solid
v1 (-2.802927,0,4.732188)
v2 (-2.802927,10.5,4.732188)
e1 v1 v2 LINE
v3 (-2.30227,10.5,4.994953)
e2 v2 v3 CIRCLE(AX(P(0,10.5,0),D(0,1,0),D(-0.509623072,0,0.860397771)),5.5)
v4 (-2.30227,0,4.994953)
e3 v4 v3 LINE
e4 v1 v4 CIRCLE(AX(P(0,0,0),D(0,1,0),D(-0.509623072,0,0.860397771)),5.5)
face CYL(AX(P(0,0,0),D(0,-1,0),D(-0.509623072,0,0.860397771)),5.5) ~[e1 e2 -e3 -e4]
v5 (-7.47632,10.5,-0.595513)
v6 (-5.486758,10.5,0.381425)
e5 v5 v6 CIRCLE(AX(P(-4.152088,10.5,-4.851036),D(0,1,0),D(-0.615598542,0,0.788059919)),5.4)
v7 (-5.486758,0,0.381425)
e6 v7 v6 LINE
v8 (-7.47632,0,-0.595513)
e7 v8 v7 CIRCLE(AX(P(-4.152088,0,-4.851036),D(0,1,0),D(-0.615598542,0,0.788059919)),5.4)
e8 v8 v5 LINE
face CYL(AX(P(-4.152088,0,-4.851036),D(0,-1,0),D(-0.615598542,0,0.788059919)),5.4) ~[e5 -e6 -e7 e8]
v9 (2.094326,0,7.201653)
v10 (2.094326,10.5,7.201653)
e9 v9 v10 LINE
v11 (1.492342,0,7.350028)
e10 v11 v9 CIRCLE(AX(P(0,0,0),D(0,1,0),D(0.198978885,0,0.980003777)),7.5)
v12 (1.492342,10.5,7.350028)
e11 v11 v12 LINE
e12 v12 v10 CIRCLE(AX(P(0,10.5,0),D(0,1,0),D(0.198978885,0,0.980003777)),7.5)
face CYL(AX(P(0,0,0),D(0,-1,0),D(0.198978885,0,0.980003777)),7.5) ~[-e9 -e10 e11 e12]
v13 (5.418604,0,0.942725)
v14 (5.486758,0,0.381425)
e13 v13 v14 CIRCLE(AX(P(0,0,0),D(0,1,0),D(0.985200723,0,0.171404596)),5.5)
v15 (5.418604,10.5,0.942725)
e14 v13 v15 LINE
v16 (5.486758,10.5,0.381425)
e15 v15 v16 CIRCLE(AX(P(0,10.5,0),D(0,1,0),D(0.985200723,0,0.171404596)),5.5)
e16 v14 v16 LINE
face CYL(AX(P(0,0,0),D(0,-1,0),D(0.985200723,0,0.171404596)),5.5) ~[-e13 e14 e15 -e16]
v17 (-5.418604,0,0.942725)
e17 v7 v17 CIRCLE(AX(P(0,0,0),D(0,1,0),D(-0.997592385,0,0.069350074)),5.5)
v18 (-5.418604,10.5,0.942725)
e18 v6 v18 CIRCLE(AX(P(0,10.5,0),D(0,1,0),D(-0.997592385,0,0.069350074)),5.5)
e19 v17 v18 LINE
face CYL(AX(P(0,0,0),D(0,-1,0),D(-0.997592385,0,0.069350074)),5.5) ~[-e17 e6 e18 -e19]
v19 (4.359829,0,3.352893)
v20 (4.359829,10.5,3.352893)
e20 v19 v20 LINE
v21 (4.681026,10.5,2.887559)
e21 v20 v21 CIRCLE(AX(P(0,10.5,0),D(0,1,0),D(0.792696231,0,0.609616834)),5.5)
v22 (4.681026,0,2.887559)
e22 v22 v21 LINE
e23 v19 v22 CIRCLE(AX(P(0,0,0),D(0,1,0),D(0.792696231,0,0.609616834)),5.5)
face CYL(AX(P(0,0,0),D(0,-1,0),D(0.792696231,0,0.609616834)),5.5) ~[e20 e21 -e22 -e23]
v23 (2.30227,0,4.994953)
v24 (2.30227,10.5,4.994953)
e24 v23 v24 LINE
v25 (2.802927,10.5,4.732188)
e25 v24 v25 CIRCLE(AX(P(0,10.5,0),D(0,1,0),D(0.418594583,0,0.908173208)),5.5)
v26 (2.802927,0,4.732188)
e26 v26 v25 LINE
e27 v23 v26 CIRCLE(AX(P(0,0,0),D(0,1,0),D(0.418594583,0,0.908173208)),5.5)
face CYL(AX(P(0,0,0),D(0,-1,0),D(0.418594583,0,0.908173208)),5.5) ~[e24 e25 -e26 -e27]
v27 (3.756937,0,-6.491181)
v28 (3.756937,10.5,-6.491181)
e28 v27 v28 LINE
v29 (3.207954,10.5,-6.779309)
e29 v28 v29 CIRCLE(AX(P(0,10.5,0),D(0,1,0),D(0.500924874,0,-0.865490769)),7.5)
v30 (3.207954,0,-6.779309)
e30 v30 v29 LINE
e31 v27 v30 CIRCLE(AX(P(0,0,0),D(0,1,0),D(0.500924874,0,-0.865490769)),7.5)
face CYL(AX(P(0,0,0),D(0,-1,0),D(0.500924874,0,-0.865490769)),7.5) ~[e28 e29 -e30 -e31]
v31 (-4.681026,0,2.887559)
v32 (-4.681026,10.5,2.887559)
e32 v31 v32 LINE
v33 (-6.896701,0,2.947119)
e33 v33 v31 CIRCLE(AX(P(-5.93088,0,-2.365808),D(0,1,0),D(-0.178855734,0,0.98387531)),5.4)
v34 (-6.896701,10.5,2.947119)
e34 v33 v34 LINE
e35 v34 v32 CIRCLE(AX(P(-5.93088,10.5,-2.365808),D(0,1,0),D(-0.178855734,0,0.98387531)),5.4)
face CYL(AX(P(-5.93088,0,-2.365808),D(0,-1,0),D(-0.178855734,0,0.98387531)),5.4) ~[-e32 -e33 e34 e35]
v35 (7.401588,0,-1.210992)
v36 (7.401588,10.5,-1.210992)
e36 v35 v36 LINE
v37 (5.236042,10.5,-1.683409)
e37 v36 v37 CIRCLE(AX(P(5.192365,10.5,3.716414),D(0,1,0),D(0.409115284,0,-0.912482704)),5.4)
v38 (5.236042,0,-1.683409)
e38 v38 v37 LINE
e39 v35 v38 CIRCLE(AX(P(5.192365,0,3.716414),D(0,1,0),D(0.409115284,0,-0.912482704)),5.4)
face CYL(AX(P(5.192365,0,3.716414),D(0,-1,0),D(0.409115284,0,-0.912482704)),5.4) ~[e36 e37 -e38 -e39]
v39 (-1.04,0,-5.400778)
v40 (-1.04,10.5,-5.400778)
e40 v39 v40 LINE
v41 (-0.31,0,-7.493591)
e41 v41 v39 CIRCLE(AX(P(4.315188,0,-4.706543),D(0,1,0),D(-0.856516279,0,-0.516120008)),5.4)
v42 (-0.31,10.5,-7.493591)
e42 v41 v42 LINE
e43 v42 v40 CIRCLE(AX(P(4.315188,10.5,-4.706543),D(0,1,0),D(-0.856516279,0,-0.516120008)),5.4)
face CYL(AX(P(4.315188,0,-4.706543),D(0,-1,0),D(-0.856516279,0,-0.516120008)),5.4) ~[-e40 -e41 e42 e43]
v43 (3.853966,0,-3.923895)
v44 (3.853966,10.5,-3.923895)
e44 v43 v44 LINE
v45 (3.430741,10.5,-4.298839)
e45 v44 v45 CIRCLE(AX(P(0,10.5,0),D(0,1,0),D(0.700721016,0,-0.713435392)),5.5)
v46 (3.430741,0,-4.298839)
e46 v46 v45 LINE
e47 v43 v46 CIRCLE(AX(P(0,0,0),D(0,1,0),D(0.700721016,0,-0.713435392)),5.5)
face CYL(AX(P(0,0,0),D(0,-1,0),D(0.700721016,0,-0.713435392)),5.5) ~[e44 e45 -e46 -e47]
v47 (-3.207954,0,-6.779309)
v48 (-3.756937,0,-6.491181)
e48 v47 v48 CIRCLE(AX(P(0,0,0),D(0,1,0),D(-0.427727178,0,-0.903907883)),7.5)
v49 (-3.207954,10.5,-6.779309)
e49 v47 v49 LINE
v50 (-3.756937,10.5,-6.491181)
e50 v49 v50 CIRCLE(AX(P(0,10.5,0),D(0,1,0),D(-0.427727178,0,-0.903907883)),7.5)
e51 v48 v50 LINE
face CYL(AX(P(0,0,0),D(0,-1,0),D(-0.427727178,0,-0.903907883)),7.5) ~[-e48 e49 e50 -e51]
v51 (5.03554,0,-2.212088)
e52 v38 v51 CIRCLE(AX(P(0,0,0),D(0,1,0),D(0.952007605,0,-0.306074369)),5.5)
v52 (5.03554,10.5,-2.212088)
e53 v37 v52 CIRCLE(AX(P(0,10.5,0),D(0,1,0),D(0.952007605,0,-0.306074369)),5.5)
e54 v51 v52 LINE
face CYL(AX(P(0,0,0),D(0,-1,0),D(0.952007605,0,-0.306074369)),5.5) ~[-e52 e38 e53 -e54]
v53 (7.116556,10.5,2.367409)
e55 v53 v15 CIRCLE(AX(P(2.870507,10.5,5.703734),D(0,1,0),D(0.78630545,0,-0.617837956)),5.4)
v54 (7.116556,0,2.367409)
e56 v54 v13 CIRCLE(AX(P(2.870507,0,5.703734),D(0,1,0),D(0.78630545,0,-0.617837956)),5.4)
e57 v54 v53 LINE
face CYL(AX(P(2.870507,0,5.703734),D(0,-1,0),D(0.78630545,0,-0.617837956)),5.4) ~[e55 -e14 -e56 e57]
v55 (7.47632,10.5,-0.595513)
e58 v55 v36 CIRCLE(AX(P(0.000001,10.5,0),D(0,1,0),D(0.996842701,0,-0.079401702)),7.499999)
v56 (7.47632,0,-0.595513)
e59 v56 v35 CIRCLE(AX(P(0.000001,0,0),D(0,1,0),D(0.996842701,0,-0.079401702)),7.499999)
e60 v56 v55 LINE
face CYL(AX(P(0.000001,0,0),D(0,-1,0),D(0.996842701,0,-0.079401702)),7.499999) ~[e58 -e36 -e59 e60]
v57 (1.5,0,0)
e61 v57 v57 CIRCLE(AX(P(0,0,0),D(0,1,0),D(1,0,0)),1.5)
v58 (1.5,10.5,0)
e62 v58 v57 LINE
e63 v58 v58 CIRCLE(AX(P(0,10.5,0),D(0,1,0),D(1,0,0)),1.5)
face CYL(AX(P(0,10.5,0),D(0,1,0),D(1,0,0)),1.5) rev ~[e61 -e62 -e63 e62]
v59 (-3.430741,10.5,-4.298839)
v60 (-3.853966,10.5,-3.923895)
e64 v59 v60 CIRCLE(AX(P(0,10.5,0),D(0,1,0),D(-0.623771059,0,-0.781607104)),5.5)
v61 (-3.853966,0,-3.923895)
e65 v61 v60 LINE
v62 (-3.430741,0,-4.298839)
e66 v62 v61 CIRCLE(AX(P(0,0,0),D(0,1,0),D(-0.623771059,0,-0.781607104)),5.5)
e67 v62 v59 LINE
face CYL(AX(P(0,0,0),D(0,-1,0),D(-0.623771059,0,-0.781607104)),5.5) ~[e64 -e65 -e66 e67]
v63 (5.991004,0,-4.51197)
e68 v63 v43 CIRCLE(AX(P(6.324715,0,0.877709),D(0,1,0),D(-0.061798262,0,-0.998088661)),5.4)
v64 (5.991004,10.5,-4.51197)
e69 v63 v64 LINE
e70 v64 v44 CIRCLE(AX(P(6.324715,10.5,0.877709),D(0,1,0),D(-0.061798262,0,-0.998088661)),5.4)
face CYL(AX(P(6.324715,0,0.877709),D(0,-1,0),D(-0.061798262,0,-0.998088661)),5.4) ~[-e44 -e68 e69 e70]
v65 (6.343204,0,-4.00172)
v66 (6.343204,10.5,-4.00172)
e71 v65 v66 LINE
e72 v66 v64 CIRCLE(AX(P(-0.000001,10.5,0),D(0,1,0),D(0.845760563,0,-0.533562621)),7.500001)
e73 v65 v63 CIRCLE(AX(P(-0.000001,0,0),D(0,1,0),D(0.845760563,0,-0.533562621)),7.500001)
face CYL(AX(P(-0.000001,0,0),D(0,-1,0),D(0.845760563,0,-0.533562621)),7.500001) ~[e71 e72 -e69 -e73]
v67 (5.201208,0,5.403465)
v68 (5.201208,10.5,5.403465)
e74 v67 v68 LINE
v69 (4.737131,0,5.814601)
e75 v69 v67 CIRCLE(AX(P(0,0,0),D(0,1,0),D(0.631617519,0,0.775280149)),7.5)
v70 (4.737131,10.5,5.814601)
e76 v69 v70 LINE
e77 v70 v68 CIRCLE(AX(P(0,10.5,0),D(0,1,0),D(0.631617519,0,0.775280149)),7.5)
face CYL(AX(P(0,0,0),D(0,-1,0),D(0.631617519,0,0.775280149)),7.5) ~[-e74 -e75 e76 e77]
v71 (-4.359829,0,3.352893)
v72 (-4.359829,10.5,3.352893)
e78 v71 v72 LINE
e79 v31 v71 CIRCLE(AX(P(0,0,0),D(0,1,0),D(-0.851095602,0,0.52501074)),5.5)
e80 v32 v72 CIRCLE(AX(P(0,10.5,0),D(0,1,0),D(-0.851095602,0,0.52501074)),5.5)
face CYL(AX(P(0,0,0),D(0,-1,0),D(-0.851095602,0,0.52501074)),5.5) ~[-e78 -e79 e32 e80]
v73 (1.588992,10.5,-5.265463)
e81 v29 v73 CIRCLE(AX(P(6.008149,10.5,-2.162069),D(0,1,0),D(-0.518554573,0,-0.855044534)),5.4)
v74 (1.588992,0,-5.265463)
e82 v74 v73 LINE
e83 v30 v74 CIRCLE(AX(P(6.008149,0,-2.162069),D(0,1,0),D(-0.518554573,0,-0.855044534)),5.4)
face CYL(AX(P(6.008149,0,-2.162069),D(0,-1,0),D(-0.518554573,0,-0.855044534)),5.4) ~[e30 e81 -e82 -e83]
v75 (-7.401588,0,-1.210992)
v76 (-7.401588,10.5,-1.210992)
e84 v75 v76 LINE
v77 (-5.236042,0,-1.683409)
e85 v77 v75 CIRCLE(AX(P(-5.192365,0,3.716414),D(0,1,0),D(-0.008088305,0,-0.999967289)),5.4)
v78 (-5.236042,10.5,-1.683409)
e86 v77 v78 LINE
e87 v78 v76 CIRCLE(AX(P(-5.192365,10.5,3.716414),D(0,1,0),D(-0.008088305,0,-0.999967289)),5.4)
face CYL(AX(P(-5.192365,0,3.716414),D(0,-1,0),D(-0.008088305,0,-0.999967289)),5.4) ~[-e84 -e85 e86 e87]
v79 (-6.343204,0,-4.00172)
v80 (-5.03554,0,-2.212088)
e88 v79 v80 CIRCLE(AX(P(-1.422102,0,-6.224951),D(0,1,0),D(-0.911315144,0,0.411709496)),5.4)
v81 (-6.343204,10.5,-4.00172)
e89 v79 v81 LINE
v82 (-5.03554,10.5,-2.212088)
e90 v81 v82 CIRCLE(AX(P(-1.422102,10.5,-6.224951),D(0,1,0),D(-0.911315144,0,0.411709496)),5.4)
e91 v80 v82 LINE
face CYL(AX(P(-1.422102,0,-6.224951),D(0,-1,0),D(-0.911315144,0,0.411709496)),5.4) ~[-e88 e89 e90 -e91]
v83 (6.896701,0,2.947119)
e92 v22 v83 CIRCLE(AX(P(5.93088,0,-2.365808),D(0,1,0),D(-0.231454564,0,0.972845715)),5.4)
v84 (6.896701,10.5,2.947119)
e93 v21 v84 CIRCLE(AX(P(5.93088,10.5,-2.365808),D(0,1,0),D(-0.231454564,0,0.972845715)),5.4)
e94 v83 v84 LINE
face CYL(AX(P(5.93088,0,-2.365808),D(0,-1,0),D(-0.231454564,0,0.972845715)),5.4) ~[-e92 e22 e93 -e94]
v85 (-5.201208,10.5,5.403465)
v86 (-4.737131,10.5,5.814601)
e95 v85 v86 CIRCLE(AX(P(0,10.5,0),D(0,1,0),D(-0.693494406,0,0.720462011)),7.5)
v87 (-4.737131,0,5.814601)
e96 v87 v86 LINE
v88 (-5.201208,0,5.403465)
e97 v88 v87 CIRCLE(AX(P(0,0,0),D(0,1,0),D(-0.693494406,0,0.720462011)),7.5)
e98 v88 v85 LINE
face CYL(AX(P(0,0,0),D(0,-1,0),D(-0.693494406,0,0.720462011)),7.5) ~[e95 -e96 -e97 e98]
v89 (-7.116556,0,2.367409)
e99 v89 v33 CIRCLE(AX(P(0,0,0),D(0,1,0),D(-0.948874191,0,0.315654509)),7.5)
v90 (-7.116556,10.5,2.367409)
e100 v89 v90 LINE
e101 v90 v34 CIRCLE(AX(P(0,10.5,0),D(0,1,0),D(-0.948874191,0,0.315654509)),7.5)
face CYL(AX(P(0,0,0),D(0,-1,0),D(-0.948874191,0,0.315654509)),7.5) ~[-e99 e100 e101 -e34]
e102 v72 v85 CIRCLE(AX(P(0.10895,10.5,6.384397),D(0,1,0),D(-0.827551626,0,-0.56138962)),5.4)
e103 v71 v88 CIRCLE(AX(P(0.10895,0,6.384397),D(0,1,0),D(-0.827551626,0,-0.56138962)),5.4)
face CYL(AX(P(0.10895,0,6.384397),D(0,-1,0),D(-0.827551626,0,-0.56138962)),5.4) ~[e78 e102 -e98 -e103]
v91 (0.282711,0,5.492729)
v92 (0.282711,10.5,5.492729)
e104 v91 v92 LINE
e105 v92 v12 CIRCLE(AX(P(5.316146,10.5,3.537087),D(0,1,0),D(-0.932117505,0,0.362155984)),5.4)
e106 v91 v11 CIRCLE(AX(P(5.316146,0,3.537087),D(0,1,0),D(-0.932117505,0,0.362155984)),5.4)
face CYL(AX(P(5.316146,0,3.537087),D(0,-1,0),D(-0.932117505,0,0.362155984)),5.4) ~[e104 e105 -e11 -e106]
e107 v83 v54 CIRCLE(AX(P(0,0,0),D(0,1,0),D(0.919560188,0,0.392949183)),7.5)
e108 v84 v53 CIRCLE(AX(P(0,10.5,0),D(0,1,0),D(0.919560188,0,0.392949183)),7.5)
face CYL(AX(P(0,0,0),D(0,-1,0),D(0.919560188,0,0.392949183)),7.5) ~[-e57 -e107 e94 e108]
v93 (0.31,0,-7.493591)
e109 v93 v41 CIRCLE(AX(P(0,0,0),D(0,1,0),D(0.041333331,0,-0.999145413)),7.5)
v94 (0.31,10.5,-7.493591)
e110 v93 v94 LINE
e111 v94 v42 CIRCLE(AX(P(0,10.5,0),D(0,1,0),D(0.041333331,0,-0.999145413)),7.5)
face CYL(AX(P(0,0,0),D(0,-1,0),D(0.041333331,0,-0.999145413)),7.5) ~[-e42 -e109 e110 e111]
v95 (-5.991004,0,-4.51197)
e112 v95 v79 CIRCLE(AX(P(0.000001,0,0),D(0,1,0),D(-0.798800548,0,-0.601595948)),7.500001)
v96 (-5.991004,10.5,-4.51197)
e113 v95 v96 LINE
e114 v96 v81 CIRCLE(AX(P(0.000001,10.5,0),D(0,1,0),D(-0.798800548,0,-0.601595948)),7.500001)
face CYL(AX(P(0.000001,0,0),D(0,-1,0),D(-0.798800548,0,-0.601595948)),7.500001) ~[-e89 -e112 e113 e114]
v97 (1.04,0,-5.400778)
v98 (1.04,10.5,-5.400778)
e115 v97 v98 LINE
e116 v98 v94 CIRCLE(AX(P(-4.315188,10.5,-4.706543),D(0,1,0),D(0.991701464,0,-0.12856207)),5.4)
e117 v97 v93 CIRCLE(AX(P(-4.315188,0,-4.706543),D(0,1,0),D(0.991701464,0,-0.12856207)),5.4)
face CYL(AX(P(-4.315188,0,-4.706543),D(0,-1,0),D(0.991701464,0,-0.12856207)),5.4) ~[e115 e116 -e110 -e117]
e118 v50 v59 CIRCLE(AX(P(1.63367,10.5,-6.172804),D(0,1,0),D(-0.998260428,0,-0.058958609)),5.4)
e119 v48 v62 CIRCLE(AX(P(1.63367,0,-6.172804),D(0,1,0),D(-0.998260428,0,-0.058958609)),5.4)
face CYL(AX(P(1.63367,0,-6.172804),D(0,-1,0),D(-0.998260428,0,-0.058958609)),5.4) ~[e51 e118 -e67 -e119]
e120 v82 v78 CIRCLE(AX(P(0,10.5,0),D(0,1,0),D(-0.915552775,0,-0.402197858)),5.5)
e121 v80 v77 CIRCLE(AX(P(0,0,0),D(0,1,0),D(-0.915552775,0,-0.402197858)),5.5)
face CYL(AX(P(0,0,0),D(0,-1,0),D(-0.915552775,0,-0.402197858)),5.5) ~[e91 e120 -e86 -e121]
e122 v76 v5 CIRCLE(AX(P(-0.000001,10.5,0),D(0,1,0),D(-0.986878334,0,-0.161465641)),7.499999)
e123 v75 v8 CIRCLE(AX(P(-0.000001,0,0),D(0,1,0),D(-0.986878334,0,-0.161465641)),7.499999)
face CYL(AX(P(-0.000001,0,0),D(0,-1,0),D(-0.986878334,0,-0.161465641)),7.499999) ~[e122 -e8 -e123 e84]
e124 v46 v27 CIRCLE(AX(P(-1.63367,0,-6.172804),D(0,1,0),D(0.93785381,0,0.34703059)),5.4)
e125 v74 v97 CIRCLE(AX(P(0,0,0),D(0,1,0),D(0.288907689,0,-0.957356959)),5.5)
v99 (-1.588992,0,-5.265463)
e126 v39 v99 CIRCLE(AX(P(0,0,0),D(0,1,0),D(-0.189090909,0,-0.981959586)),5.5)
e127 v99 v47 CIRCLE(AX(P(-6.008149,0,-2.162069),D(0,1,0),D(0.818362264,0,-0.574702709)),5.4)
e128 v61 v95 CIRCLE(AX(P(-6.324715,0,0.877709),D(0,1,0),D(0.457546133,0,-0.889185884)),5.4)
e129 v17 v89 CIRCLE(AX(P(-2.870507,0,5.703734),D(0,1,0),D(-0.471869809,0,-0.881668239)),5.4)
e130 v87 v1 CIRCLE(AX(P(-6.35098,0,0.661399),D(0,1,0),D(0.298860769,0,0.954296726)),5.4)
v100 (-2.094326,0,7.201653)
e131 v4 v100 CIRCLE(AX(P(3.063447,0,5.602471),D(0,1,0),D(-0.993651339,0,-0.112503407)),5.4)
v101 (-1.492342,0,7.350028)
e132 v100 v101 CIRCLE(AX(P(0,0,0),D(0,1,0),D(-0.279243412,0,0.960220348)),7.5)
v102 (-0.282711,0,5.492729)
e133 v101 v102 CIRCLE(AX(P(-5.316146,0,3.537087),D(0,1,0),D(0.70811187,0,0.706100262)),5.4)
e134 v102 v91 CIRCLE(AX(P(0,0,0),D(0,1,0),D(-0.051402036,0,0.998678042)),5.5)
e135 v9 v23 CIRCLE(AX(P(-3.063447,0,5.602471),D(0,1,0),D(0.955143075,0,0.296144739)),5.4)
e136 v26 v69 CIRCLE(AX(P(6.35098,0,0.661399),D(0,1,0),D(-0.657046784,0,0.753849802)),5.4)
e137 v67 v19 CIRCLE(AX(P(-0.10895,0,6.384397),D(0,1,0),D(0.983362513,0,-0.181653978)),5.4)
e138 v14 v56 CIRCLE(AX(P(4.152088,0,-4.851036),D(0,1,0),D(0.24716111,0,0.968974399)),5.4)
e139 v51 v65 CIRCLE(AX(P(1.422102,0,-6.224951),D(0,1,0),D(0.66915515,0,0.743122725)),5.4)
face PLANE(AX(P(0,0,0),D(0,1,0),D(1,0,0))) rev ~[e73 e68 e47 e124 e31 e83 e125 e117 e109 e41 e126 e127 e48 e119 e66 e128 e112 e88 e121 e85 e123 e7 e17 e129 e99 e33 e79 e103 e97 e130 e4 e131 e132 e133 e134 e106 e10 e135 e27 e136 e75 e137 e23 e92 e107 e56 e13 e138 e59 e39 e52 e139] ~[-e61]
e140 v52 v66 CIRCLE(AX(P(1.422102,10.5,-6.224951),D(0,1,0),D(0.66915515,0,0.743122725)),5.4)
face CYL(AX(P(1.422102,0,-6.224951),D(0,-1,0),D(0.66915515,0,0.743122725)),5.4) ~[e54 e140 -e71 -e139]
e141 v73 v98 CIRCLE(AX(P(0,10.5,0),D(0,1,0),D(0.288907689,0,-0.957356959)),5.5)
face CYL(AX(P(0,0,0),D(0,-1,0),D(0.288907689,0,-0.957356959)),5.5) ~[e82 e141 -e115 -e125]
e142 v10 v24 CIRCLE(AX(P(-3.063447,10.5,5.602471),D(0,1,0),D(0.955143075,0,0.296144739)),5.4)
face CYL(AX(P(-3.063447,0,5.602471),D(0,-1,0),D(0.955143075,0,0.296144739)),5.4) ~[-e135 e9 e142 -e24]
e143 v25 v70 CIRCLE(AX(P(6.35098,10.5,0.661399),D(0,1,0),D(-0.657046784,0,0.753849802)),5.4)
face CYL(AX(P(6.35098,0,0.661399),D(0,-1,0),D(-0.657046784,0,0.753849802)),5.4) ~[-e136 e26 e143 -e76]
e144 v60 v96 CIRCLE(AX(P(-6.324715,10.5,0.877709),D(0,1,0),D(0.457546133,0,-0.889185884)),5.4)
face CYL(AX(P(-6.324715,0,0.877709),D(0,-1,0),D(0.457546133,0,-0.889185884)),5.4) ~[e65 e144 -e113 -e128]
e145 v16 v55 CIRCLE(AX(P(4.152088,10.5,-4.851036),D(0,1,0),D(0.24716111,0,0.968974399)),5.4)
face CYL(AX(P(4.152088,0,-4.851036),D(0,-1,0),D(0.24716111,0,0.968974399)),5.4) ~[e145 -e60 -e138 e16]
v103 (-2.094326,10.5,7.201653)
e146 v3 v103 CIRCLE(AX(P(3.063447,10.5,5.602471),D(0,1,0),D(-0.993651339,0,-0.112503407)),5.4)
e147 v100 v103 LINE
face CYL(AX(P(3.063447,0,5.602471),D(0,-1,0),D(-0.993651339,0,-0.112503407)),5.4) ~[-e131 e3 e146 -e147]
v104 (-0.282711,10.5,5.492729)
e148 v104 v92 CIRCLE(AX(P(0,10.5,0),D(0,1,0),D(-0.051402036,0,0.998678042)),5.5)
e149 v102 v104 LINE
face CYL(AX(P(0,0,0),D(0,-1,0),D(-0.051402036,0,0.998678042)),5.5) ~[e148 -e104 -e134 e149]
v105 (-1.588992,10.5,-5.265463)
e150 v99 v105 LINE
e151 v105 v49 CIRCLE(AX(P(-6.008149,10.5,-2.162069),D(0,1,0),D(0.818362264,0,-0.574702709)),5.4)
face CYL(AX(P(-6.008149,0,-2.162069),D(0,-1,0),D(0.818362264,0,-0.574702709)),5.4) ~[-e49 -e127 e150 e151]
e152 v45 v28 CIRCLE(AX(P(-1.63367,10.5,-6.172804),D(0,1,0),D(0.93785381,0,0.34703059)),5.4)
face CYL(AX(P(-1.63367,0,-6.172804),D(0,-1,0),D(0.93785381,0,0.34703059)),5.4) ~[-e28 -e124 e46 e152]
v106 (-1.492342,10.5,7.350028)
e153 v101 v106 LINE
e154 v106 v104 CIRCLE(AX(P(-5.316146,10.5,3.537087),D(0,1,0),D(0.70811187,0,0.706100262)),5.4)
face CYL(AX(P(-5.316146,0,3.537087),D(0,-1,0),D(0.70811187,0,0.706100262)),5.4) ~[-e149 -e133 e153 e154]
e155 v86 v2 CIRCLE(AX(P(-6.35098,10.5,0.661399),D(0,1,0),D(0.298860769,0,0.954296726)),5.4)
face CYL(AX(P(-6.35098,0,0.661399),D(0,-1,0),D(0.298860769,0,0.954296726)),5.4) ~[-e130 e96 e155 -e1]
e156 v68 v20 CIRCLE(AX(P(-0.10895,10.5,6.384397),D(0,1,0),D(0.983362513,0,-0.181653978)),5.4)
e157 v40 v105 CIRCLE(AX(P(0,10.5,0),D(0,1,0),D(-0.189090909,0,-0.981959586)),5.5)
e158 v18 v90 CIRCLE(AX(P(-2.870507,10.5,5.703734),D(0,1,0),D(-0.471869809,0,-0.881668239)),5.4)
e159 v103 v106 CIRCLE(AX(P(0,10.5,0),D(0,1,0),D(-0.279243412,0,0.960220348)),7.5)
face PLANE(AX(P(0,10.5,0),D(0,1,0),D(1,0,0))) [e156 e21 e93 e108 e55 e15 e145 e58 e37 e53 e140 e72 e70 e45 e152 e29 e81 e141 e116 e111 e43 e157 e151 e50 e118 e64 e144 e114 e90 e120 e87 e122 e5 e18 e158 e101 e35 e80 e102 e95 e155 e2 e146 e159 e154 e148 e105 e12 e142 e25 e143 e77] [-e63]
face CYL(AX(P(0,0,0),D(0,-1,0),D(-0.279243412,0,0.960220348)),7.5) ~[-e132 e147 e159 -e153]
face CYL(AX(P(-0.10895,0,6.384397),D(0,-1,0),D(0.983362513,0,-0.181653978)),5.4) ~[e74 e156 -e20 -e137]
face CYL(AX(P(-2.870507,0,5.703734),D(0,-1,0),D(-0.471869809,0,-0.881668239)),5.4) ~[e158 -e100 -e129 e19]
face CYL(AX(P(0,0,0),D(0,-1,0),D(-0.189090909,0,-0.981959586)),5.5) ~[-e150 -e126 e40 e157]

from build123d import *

# Parameters (mm, degrees)
BOSS_EXTRUDE1_DEPTH = 10.5
SKETCH2_R           = 1.5
CUT_EXTRUDE1_DEPTH  = 10.5


with BuildPart() as part:
    # Sketch1 → Boss-Extrude1 (new body)
    with BuildSketch(Plane(origin=(0, 0, 0), x_dir=(1, 0, 0), z_dir=(0, 1, 0))):
        with BuildLine():
            ThreePointArc((1.04, 5.400777722), (0.783531714, 6.485041414), (0.31, 7.493590595))
            ThreePointArc((0.31, 7.493590595), (0, 7.5), (-0.31, 7.493590595))
            ThreePointArc((-0.31, 7.493590595), (-0.783531714, 6.485041414), (-1.04, 5.400777722))
            ThreePointArc((-1.04, 5.400777722), (-1.316236154, 5.340179996), (-1.588992288, 5.265463276))
            ThreePointArc((-1.588992288, 5.265463276), (-2.319966139, 6.10634434), (-3.207953823, 6.779309129))
            ThreePointArc((-3.207953823, 6.779309129), (-3.48542379, 6.640920192), (-3.756936559, 6.491180762))
            ThreePointArc((-3.756936559, 6.491180762), (-3.707531894, 5.378093653), (-3.430740821, 4.298839078))
            ThreePointArc((-3.430740821, 4.298839078), (-3.64717462, 4.116809115), (-3.853965592, 3.923894649))
            ThreePointArc((-3.853965592, 3.923894649), (-4.891987708, 4.328757368), (-5.991004086, 4.511969642))
            ThreePointArc((-5.991004086, 4.511969642), (-6.172378994, 4.2604856), (-6.343204228, 4.001719645))
            ThreePointArc((-6.343204228, 4.001719645), (-5.782181198, 3.039089449), (-5.035540265, 2.212088208))
            ThreePointArc((-5.035540265, 2.212088208), (-5.142589335, 1.950326879), (-5.236041824, 1.683409046))
            ThreePointArc((-5.236041824, 1.683409046), (-6.343313848, 1.559504249), (-7.401587511, 1.210992284))
            ThreePointArc((-7.401587511, 1.210992284), (-7.445316556, 0.904025102), (-7.476320253, 0.595512782))
            ThreePointArc((-7.476320253, 0.595512782), (-6.532202472, 0.003866477), (-5.486758119, -0.381425412))
            ThreePointArc((-5.486758119, -0.381425412), (-5.459898808, -0.662951741), (-5.418603976, -0.942725282))
            ThreePointArc((-5.418603976, -0.942725282), (-6.341463231, -1.567012498), (-7.116556437, -2.367408811))
            ThreePointArc((-7.116556437, -2.367408811), (-7.01262182, -2.659536653), (-6.896701407, -2.947118882))
            ThreePointArc((-6.896701407, -2.947118882), (-5.785774881, -3.032242258), (-4.68102581, -2.887559066))
            ThreePointArc((-4.68102581, -2.887559066), (-4.526411262, -3.124356107), (-4.359829258, -3.352892609))
            ThreePointArc((-4.359829258, -3.352892609), (-4.886859811, -4.334545567), (-5.201208047, -5.403465078))
            ThreePointArc((-5.201208047, -5.403465078), (-4.973419937, -5.613830611), (-4.737131383, -5.814601127))
            ThreePointArc((-4.737131383, -5.814601127), (-3.713895991, -5.373700834), (-2.802926901, -4.732187738))
            ThreePointArc((-2.802926901, -4.732187738), (-2.555977446, -4.870008141), (-2.302270198, -4.994952646))
            ThreePointArc((-2.302270198, -4.994952646), (-2.312735701, -6.109086484), (-2.094325574, -7.201652615))
            ThreePointArc((-2.094325574, -7.201652615), (-1.794867482, -7.282063631), (-1.492341648, -7.350028327))
            ThreePointArc((-1.492341648, -7.350028327), (-0.791208287, -6.484109309), (-0.282711218, -5.492729228))
            ThreePointArc((-0.282711218, -5.492729228), (0, -5.5), (0.282711218, -5.492729228))
            ThreePointArc((0.282711218, -5.492729228), (0.791208287, -6.484109309), (1.492341648, -7.350028327))
            ThreePointArc((1.492341648, -7.350028327), (1.794867482, -7.282063631), (2.094325574, -7.201652615))
            ThreePointArc((2.094325574, -7.201652615), (2.312735701, -6.109086484), (2.302270198, -4.994952646))
            ThreePointArc((2.302270198, -4.994952646), (2.555977446, -4.870008141), (2.802926901, -4.732187738))
            ThreePointArc((2.802926901, -4.732187738), (3.713895991, -5.373700834), (4.737131383, -5.814601127))
            ThreePointArc((4.737131383, -5.814601127), (4.973419937, -5.613830611), (5.201208047, -5.403465078))
            ThreePointArc((5.201208047, -5.403465078), (4.886859811, -4.334545567), (4.359829258, -3.352892609))
            ThreePointArc((4.359829258, -3.352892609), (4.526411262, -3.124356107), (4.68102581, -2.887559066))
            ThreePointArc((4.68102581, -2.887559066), (5.785774881, -3.032242258), (6.896701407, -2.947118882))
            ThreePointArc((6.896701407, -2.947118882), (7.01262182, -2.659536653), (7.116556437, -2.367408811))
            ThreePointArc((7.116556437, -2.367408811), (6.341463231, -1.567012498), (5.418603976, -0.942725282))
            ThreePointArc((5.418603976, -0.942725282), (5.459898808, -0.662951741), (5.486758119, -0.381425412))
            ThreePointArc((5.486758119, -0.381425412), (6.532202472, 0.003866477), (7.476320253, 0.595512782))
            ThreePointArc((7.476320253, 0.595512782), (7.445316556, 0.904025102), (7.401587511, 1.210992284))
            ThreePointArc((7.401587511, 1.210992284), (6.343313848, 1.559504249), (5.236041824, 1.683409046))
            ThreePointArc((5.236041824, 1.683409046), (5.142589335, 1.950326879), (5.035540265, 2.212088208))
            ThreePointArc((5.035540265, 2.212088208), (5.782181198, 3.039089449), (6.343204228, 4.001719645))
            ThreePointArc((6.343204228, 4.001719645), (6.172378994, 4.2604856), (5.991004086, 4.511969642))
            ThreePointArc((5.991004086, 4.511969642), (4.891987708, 4.328757368), (3.853965592, 3.923894649))
            ThreePointArc((3.853965592, 3.923894649), (3.64717462, 4.116809115), (3.430740821, 4.298839078))
            ThreePointArc((3.430740821, 4.298839078), (3.707531894, 5.378093653), (3.756936559, 6.491180762))
            ThreePointArc((3.756936559, 6.491180762), (3.48542379, 6.640920192), (3.207953823, 6.779309129))
            ThreePointArc((3.207953823, 6.779309129), (2.319966139, 6.10634434), (1.588992288, 5.265463276))
            ThreePointArc((1.588992288, 5.265463276), (1.316236154, 5.340179996), (1.04, 5.400777722))
        make_face()
    extrude(amount=BOSS_EXTRUDE1_DEPTH)

    # Sketch2 → Cut-Extrude1 (cut)
    with BuildSketch(Plane(origin=(0, 10.5, 0), x_dir=(1, 0, 0), z_dir=(0, 1, 0))):
        Circle(SKETCH2_R)
    extrude(amount=-CUT_EXTRUDE1_DEPTH, mode=Mode.SUBTRACT)


solid = part.part
